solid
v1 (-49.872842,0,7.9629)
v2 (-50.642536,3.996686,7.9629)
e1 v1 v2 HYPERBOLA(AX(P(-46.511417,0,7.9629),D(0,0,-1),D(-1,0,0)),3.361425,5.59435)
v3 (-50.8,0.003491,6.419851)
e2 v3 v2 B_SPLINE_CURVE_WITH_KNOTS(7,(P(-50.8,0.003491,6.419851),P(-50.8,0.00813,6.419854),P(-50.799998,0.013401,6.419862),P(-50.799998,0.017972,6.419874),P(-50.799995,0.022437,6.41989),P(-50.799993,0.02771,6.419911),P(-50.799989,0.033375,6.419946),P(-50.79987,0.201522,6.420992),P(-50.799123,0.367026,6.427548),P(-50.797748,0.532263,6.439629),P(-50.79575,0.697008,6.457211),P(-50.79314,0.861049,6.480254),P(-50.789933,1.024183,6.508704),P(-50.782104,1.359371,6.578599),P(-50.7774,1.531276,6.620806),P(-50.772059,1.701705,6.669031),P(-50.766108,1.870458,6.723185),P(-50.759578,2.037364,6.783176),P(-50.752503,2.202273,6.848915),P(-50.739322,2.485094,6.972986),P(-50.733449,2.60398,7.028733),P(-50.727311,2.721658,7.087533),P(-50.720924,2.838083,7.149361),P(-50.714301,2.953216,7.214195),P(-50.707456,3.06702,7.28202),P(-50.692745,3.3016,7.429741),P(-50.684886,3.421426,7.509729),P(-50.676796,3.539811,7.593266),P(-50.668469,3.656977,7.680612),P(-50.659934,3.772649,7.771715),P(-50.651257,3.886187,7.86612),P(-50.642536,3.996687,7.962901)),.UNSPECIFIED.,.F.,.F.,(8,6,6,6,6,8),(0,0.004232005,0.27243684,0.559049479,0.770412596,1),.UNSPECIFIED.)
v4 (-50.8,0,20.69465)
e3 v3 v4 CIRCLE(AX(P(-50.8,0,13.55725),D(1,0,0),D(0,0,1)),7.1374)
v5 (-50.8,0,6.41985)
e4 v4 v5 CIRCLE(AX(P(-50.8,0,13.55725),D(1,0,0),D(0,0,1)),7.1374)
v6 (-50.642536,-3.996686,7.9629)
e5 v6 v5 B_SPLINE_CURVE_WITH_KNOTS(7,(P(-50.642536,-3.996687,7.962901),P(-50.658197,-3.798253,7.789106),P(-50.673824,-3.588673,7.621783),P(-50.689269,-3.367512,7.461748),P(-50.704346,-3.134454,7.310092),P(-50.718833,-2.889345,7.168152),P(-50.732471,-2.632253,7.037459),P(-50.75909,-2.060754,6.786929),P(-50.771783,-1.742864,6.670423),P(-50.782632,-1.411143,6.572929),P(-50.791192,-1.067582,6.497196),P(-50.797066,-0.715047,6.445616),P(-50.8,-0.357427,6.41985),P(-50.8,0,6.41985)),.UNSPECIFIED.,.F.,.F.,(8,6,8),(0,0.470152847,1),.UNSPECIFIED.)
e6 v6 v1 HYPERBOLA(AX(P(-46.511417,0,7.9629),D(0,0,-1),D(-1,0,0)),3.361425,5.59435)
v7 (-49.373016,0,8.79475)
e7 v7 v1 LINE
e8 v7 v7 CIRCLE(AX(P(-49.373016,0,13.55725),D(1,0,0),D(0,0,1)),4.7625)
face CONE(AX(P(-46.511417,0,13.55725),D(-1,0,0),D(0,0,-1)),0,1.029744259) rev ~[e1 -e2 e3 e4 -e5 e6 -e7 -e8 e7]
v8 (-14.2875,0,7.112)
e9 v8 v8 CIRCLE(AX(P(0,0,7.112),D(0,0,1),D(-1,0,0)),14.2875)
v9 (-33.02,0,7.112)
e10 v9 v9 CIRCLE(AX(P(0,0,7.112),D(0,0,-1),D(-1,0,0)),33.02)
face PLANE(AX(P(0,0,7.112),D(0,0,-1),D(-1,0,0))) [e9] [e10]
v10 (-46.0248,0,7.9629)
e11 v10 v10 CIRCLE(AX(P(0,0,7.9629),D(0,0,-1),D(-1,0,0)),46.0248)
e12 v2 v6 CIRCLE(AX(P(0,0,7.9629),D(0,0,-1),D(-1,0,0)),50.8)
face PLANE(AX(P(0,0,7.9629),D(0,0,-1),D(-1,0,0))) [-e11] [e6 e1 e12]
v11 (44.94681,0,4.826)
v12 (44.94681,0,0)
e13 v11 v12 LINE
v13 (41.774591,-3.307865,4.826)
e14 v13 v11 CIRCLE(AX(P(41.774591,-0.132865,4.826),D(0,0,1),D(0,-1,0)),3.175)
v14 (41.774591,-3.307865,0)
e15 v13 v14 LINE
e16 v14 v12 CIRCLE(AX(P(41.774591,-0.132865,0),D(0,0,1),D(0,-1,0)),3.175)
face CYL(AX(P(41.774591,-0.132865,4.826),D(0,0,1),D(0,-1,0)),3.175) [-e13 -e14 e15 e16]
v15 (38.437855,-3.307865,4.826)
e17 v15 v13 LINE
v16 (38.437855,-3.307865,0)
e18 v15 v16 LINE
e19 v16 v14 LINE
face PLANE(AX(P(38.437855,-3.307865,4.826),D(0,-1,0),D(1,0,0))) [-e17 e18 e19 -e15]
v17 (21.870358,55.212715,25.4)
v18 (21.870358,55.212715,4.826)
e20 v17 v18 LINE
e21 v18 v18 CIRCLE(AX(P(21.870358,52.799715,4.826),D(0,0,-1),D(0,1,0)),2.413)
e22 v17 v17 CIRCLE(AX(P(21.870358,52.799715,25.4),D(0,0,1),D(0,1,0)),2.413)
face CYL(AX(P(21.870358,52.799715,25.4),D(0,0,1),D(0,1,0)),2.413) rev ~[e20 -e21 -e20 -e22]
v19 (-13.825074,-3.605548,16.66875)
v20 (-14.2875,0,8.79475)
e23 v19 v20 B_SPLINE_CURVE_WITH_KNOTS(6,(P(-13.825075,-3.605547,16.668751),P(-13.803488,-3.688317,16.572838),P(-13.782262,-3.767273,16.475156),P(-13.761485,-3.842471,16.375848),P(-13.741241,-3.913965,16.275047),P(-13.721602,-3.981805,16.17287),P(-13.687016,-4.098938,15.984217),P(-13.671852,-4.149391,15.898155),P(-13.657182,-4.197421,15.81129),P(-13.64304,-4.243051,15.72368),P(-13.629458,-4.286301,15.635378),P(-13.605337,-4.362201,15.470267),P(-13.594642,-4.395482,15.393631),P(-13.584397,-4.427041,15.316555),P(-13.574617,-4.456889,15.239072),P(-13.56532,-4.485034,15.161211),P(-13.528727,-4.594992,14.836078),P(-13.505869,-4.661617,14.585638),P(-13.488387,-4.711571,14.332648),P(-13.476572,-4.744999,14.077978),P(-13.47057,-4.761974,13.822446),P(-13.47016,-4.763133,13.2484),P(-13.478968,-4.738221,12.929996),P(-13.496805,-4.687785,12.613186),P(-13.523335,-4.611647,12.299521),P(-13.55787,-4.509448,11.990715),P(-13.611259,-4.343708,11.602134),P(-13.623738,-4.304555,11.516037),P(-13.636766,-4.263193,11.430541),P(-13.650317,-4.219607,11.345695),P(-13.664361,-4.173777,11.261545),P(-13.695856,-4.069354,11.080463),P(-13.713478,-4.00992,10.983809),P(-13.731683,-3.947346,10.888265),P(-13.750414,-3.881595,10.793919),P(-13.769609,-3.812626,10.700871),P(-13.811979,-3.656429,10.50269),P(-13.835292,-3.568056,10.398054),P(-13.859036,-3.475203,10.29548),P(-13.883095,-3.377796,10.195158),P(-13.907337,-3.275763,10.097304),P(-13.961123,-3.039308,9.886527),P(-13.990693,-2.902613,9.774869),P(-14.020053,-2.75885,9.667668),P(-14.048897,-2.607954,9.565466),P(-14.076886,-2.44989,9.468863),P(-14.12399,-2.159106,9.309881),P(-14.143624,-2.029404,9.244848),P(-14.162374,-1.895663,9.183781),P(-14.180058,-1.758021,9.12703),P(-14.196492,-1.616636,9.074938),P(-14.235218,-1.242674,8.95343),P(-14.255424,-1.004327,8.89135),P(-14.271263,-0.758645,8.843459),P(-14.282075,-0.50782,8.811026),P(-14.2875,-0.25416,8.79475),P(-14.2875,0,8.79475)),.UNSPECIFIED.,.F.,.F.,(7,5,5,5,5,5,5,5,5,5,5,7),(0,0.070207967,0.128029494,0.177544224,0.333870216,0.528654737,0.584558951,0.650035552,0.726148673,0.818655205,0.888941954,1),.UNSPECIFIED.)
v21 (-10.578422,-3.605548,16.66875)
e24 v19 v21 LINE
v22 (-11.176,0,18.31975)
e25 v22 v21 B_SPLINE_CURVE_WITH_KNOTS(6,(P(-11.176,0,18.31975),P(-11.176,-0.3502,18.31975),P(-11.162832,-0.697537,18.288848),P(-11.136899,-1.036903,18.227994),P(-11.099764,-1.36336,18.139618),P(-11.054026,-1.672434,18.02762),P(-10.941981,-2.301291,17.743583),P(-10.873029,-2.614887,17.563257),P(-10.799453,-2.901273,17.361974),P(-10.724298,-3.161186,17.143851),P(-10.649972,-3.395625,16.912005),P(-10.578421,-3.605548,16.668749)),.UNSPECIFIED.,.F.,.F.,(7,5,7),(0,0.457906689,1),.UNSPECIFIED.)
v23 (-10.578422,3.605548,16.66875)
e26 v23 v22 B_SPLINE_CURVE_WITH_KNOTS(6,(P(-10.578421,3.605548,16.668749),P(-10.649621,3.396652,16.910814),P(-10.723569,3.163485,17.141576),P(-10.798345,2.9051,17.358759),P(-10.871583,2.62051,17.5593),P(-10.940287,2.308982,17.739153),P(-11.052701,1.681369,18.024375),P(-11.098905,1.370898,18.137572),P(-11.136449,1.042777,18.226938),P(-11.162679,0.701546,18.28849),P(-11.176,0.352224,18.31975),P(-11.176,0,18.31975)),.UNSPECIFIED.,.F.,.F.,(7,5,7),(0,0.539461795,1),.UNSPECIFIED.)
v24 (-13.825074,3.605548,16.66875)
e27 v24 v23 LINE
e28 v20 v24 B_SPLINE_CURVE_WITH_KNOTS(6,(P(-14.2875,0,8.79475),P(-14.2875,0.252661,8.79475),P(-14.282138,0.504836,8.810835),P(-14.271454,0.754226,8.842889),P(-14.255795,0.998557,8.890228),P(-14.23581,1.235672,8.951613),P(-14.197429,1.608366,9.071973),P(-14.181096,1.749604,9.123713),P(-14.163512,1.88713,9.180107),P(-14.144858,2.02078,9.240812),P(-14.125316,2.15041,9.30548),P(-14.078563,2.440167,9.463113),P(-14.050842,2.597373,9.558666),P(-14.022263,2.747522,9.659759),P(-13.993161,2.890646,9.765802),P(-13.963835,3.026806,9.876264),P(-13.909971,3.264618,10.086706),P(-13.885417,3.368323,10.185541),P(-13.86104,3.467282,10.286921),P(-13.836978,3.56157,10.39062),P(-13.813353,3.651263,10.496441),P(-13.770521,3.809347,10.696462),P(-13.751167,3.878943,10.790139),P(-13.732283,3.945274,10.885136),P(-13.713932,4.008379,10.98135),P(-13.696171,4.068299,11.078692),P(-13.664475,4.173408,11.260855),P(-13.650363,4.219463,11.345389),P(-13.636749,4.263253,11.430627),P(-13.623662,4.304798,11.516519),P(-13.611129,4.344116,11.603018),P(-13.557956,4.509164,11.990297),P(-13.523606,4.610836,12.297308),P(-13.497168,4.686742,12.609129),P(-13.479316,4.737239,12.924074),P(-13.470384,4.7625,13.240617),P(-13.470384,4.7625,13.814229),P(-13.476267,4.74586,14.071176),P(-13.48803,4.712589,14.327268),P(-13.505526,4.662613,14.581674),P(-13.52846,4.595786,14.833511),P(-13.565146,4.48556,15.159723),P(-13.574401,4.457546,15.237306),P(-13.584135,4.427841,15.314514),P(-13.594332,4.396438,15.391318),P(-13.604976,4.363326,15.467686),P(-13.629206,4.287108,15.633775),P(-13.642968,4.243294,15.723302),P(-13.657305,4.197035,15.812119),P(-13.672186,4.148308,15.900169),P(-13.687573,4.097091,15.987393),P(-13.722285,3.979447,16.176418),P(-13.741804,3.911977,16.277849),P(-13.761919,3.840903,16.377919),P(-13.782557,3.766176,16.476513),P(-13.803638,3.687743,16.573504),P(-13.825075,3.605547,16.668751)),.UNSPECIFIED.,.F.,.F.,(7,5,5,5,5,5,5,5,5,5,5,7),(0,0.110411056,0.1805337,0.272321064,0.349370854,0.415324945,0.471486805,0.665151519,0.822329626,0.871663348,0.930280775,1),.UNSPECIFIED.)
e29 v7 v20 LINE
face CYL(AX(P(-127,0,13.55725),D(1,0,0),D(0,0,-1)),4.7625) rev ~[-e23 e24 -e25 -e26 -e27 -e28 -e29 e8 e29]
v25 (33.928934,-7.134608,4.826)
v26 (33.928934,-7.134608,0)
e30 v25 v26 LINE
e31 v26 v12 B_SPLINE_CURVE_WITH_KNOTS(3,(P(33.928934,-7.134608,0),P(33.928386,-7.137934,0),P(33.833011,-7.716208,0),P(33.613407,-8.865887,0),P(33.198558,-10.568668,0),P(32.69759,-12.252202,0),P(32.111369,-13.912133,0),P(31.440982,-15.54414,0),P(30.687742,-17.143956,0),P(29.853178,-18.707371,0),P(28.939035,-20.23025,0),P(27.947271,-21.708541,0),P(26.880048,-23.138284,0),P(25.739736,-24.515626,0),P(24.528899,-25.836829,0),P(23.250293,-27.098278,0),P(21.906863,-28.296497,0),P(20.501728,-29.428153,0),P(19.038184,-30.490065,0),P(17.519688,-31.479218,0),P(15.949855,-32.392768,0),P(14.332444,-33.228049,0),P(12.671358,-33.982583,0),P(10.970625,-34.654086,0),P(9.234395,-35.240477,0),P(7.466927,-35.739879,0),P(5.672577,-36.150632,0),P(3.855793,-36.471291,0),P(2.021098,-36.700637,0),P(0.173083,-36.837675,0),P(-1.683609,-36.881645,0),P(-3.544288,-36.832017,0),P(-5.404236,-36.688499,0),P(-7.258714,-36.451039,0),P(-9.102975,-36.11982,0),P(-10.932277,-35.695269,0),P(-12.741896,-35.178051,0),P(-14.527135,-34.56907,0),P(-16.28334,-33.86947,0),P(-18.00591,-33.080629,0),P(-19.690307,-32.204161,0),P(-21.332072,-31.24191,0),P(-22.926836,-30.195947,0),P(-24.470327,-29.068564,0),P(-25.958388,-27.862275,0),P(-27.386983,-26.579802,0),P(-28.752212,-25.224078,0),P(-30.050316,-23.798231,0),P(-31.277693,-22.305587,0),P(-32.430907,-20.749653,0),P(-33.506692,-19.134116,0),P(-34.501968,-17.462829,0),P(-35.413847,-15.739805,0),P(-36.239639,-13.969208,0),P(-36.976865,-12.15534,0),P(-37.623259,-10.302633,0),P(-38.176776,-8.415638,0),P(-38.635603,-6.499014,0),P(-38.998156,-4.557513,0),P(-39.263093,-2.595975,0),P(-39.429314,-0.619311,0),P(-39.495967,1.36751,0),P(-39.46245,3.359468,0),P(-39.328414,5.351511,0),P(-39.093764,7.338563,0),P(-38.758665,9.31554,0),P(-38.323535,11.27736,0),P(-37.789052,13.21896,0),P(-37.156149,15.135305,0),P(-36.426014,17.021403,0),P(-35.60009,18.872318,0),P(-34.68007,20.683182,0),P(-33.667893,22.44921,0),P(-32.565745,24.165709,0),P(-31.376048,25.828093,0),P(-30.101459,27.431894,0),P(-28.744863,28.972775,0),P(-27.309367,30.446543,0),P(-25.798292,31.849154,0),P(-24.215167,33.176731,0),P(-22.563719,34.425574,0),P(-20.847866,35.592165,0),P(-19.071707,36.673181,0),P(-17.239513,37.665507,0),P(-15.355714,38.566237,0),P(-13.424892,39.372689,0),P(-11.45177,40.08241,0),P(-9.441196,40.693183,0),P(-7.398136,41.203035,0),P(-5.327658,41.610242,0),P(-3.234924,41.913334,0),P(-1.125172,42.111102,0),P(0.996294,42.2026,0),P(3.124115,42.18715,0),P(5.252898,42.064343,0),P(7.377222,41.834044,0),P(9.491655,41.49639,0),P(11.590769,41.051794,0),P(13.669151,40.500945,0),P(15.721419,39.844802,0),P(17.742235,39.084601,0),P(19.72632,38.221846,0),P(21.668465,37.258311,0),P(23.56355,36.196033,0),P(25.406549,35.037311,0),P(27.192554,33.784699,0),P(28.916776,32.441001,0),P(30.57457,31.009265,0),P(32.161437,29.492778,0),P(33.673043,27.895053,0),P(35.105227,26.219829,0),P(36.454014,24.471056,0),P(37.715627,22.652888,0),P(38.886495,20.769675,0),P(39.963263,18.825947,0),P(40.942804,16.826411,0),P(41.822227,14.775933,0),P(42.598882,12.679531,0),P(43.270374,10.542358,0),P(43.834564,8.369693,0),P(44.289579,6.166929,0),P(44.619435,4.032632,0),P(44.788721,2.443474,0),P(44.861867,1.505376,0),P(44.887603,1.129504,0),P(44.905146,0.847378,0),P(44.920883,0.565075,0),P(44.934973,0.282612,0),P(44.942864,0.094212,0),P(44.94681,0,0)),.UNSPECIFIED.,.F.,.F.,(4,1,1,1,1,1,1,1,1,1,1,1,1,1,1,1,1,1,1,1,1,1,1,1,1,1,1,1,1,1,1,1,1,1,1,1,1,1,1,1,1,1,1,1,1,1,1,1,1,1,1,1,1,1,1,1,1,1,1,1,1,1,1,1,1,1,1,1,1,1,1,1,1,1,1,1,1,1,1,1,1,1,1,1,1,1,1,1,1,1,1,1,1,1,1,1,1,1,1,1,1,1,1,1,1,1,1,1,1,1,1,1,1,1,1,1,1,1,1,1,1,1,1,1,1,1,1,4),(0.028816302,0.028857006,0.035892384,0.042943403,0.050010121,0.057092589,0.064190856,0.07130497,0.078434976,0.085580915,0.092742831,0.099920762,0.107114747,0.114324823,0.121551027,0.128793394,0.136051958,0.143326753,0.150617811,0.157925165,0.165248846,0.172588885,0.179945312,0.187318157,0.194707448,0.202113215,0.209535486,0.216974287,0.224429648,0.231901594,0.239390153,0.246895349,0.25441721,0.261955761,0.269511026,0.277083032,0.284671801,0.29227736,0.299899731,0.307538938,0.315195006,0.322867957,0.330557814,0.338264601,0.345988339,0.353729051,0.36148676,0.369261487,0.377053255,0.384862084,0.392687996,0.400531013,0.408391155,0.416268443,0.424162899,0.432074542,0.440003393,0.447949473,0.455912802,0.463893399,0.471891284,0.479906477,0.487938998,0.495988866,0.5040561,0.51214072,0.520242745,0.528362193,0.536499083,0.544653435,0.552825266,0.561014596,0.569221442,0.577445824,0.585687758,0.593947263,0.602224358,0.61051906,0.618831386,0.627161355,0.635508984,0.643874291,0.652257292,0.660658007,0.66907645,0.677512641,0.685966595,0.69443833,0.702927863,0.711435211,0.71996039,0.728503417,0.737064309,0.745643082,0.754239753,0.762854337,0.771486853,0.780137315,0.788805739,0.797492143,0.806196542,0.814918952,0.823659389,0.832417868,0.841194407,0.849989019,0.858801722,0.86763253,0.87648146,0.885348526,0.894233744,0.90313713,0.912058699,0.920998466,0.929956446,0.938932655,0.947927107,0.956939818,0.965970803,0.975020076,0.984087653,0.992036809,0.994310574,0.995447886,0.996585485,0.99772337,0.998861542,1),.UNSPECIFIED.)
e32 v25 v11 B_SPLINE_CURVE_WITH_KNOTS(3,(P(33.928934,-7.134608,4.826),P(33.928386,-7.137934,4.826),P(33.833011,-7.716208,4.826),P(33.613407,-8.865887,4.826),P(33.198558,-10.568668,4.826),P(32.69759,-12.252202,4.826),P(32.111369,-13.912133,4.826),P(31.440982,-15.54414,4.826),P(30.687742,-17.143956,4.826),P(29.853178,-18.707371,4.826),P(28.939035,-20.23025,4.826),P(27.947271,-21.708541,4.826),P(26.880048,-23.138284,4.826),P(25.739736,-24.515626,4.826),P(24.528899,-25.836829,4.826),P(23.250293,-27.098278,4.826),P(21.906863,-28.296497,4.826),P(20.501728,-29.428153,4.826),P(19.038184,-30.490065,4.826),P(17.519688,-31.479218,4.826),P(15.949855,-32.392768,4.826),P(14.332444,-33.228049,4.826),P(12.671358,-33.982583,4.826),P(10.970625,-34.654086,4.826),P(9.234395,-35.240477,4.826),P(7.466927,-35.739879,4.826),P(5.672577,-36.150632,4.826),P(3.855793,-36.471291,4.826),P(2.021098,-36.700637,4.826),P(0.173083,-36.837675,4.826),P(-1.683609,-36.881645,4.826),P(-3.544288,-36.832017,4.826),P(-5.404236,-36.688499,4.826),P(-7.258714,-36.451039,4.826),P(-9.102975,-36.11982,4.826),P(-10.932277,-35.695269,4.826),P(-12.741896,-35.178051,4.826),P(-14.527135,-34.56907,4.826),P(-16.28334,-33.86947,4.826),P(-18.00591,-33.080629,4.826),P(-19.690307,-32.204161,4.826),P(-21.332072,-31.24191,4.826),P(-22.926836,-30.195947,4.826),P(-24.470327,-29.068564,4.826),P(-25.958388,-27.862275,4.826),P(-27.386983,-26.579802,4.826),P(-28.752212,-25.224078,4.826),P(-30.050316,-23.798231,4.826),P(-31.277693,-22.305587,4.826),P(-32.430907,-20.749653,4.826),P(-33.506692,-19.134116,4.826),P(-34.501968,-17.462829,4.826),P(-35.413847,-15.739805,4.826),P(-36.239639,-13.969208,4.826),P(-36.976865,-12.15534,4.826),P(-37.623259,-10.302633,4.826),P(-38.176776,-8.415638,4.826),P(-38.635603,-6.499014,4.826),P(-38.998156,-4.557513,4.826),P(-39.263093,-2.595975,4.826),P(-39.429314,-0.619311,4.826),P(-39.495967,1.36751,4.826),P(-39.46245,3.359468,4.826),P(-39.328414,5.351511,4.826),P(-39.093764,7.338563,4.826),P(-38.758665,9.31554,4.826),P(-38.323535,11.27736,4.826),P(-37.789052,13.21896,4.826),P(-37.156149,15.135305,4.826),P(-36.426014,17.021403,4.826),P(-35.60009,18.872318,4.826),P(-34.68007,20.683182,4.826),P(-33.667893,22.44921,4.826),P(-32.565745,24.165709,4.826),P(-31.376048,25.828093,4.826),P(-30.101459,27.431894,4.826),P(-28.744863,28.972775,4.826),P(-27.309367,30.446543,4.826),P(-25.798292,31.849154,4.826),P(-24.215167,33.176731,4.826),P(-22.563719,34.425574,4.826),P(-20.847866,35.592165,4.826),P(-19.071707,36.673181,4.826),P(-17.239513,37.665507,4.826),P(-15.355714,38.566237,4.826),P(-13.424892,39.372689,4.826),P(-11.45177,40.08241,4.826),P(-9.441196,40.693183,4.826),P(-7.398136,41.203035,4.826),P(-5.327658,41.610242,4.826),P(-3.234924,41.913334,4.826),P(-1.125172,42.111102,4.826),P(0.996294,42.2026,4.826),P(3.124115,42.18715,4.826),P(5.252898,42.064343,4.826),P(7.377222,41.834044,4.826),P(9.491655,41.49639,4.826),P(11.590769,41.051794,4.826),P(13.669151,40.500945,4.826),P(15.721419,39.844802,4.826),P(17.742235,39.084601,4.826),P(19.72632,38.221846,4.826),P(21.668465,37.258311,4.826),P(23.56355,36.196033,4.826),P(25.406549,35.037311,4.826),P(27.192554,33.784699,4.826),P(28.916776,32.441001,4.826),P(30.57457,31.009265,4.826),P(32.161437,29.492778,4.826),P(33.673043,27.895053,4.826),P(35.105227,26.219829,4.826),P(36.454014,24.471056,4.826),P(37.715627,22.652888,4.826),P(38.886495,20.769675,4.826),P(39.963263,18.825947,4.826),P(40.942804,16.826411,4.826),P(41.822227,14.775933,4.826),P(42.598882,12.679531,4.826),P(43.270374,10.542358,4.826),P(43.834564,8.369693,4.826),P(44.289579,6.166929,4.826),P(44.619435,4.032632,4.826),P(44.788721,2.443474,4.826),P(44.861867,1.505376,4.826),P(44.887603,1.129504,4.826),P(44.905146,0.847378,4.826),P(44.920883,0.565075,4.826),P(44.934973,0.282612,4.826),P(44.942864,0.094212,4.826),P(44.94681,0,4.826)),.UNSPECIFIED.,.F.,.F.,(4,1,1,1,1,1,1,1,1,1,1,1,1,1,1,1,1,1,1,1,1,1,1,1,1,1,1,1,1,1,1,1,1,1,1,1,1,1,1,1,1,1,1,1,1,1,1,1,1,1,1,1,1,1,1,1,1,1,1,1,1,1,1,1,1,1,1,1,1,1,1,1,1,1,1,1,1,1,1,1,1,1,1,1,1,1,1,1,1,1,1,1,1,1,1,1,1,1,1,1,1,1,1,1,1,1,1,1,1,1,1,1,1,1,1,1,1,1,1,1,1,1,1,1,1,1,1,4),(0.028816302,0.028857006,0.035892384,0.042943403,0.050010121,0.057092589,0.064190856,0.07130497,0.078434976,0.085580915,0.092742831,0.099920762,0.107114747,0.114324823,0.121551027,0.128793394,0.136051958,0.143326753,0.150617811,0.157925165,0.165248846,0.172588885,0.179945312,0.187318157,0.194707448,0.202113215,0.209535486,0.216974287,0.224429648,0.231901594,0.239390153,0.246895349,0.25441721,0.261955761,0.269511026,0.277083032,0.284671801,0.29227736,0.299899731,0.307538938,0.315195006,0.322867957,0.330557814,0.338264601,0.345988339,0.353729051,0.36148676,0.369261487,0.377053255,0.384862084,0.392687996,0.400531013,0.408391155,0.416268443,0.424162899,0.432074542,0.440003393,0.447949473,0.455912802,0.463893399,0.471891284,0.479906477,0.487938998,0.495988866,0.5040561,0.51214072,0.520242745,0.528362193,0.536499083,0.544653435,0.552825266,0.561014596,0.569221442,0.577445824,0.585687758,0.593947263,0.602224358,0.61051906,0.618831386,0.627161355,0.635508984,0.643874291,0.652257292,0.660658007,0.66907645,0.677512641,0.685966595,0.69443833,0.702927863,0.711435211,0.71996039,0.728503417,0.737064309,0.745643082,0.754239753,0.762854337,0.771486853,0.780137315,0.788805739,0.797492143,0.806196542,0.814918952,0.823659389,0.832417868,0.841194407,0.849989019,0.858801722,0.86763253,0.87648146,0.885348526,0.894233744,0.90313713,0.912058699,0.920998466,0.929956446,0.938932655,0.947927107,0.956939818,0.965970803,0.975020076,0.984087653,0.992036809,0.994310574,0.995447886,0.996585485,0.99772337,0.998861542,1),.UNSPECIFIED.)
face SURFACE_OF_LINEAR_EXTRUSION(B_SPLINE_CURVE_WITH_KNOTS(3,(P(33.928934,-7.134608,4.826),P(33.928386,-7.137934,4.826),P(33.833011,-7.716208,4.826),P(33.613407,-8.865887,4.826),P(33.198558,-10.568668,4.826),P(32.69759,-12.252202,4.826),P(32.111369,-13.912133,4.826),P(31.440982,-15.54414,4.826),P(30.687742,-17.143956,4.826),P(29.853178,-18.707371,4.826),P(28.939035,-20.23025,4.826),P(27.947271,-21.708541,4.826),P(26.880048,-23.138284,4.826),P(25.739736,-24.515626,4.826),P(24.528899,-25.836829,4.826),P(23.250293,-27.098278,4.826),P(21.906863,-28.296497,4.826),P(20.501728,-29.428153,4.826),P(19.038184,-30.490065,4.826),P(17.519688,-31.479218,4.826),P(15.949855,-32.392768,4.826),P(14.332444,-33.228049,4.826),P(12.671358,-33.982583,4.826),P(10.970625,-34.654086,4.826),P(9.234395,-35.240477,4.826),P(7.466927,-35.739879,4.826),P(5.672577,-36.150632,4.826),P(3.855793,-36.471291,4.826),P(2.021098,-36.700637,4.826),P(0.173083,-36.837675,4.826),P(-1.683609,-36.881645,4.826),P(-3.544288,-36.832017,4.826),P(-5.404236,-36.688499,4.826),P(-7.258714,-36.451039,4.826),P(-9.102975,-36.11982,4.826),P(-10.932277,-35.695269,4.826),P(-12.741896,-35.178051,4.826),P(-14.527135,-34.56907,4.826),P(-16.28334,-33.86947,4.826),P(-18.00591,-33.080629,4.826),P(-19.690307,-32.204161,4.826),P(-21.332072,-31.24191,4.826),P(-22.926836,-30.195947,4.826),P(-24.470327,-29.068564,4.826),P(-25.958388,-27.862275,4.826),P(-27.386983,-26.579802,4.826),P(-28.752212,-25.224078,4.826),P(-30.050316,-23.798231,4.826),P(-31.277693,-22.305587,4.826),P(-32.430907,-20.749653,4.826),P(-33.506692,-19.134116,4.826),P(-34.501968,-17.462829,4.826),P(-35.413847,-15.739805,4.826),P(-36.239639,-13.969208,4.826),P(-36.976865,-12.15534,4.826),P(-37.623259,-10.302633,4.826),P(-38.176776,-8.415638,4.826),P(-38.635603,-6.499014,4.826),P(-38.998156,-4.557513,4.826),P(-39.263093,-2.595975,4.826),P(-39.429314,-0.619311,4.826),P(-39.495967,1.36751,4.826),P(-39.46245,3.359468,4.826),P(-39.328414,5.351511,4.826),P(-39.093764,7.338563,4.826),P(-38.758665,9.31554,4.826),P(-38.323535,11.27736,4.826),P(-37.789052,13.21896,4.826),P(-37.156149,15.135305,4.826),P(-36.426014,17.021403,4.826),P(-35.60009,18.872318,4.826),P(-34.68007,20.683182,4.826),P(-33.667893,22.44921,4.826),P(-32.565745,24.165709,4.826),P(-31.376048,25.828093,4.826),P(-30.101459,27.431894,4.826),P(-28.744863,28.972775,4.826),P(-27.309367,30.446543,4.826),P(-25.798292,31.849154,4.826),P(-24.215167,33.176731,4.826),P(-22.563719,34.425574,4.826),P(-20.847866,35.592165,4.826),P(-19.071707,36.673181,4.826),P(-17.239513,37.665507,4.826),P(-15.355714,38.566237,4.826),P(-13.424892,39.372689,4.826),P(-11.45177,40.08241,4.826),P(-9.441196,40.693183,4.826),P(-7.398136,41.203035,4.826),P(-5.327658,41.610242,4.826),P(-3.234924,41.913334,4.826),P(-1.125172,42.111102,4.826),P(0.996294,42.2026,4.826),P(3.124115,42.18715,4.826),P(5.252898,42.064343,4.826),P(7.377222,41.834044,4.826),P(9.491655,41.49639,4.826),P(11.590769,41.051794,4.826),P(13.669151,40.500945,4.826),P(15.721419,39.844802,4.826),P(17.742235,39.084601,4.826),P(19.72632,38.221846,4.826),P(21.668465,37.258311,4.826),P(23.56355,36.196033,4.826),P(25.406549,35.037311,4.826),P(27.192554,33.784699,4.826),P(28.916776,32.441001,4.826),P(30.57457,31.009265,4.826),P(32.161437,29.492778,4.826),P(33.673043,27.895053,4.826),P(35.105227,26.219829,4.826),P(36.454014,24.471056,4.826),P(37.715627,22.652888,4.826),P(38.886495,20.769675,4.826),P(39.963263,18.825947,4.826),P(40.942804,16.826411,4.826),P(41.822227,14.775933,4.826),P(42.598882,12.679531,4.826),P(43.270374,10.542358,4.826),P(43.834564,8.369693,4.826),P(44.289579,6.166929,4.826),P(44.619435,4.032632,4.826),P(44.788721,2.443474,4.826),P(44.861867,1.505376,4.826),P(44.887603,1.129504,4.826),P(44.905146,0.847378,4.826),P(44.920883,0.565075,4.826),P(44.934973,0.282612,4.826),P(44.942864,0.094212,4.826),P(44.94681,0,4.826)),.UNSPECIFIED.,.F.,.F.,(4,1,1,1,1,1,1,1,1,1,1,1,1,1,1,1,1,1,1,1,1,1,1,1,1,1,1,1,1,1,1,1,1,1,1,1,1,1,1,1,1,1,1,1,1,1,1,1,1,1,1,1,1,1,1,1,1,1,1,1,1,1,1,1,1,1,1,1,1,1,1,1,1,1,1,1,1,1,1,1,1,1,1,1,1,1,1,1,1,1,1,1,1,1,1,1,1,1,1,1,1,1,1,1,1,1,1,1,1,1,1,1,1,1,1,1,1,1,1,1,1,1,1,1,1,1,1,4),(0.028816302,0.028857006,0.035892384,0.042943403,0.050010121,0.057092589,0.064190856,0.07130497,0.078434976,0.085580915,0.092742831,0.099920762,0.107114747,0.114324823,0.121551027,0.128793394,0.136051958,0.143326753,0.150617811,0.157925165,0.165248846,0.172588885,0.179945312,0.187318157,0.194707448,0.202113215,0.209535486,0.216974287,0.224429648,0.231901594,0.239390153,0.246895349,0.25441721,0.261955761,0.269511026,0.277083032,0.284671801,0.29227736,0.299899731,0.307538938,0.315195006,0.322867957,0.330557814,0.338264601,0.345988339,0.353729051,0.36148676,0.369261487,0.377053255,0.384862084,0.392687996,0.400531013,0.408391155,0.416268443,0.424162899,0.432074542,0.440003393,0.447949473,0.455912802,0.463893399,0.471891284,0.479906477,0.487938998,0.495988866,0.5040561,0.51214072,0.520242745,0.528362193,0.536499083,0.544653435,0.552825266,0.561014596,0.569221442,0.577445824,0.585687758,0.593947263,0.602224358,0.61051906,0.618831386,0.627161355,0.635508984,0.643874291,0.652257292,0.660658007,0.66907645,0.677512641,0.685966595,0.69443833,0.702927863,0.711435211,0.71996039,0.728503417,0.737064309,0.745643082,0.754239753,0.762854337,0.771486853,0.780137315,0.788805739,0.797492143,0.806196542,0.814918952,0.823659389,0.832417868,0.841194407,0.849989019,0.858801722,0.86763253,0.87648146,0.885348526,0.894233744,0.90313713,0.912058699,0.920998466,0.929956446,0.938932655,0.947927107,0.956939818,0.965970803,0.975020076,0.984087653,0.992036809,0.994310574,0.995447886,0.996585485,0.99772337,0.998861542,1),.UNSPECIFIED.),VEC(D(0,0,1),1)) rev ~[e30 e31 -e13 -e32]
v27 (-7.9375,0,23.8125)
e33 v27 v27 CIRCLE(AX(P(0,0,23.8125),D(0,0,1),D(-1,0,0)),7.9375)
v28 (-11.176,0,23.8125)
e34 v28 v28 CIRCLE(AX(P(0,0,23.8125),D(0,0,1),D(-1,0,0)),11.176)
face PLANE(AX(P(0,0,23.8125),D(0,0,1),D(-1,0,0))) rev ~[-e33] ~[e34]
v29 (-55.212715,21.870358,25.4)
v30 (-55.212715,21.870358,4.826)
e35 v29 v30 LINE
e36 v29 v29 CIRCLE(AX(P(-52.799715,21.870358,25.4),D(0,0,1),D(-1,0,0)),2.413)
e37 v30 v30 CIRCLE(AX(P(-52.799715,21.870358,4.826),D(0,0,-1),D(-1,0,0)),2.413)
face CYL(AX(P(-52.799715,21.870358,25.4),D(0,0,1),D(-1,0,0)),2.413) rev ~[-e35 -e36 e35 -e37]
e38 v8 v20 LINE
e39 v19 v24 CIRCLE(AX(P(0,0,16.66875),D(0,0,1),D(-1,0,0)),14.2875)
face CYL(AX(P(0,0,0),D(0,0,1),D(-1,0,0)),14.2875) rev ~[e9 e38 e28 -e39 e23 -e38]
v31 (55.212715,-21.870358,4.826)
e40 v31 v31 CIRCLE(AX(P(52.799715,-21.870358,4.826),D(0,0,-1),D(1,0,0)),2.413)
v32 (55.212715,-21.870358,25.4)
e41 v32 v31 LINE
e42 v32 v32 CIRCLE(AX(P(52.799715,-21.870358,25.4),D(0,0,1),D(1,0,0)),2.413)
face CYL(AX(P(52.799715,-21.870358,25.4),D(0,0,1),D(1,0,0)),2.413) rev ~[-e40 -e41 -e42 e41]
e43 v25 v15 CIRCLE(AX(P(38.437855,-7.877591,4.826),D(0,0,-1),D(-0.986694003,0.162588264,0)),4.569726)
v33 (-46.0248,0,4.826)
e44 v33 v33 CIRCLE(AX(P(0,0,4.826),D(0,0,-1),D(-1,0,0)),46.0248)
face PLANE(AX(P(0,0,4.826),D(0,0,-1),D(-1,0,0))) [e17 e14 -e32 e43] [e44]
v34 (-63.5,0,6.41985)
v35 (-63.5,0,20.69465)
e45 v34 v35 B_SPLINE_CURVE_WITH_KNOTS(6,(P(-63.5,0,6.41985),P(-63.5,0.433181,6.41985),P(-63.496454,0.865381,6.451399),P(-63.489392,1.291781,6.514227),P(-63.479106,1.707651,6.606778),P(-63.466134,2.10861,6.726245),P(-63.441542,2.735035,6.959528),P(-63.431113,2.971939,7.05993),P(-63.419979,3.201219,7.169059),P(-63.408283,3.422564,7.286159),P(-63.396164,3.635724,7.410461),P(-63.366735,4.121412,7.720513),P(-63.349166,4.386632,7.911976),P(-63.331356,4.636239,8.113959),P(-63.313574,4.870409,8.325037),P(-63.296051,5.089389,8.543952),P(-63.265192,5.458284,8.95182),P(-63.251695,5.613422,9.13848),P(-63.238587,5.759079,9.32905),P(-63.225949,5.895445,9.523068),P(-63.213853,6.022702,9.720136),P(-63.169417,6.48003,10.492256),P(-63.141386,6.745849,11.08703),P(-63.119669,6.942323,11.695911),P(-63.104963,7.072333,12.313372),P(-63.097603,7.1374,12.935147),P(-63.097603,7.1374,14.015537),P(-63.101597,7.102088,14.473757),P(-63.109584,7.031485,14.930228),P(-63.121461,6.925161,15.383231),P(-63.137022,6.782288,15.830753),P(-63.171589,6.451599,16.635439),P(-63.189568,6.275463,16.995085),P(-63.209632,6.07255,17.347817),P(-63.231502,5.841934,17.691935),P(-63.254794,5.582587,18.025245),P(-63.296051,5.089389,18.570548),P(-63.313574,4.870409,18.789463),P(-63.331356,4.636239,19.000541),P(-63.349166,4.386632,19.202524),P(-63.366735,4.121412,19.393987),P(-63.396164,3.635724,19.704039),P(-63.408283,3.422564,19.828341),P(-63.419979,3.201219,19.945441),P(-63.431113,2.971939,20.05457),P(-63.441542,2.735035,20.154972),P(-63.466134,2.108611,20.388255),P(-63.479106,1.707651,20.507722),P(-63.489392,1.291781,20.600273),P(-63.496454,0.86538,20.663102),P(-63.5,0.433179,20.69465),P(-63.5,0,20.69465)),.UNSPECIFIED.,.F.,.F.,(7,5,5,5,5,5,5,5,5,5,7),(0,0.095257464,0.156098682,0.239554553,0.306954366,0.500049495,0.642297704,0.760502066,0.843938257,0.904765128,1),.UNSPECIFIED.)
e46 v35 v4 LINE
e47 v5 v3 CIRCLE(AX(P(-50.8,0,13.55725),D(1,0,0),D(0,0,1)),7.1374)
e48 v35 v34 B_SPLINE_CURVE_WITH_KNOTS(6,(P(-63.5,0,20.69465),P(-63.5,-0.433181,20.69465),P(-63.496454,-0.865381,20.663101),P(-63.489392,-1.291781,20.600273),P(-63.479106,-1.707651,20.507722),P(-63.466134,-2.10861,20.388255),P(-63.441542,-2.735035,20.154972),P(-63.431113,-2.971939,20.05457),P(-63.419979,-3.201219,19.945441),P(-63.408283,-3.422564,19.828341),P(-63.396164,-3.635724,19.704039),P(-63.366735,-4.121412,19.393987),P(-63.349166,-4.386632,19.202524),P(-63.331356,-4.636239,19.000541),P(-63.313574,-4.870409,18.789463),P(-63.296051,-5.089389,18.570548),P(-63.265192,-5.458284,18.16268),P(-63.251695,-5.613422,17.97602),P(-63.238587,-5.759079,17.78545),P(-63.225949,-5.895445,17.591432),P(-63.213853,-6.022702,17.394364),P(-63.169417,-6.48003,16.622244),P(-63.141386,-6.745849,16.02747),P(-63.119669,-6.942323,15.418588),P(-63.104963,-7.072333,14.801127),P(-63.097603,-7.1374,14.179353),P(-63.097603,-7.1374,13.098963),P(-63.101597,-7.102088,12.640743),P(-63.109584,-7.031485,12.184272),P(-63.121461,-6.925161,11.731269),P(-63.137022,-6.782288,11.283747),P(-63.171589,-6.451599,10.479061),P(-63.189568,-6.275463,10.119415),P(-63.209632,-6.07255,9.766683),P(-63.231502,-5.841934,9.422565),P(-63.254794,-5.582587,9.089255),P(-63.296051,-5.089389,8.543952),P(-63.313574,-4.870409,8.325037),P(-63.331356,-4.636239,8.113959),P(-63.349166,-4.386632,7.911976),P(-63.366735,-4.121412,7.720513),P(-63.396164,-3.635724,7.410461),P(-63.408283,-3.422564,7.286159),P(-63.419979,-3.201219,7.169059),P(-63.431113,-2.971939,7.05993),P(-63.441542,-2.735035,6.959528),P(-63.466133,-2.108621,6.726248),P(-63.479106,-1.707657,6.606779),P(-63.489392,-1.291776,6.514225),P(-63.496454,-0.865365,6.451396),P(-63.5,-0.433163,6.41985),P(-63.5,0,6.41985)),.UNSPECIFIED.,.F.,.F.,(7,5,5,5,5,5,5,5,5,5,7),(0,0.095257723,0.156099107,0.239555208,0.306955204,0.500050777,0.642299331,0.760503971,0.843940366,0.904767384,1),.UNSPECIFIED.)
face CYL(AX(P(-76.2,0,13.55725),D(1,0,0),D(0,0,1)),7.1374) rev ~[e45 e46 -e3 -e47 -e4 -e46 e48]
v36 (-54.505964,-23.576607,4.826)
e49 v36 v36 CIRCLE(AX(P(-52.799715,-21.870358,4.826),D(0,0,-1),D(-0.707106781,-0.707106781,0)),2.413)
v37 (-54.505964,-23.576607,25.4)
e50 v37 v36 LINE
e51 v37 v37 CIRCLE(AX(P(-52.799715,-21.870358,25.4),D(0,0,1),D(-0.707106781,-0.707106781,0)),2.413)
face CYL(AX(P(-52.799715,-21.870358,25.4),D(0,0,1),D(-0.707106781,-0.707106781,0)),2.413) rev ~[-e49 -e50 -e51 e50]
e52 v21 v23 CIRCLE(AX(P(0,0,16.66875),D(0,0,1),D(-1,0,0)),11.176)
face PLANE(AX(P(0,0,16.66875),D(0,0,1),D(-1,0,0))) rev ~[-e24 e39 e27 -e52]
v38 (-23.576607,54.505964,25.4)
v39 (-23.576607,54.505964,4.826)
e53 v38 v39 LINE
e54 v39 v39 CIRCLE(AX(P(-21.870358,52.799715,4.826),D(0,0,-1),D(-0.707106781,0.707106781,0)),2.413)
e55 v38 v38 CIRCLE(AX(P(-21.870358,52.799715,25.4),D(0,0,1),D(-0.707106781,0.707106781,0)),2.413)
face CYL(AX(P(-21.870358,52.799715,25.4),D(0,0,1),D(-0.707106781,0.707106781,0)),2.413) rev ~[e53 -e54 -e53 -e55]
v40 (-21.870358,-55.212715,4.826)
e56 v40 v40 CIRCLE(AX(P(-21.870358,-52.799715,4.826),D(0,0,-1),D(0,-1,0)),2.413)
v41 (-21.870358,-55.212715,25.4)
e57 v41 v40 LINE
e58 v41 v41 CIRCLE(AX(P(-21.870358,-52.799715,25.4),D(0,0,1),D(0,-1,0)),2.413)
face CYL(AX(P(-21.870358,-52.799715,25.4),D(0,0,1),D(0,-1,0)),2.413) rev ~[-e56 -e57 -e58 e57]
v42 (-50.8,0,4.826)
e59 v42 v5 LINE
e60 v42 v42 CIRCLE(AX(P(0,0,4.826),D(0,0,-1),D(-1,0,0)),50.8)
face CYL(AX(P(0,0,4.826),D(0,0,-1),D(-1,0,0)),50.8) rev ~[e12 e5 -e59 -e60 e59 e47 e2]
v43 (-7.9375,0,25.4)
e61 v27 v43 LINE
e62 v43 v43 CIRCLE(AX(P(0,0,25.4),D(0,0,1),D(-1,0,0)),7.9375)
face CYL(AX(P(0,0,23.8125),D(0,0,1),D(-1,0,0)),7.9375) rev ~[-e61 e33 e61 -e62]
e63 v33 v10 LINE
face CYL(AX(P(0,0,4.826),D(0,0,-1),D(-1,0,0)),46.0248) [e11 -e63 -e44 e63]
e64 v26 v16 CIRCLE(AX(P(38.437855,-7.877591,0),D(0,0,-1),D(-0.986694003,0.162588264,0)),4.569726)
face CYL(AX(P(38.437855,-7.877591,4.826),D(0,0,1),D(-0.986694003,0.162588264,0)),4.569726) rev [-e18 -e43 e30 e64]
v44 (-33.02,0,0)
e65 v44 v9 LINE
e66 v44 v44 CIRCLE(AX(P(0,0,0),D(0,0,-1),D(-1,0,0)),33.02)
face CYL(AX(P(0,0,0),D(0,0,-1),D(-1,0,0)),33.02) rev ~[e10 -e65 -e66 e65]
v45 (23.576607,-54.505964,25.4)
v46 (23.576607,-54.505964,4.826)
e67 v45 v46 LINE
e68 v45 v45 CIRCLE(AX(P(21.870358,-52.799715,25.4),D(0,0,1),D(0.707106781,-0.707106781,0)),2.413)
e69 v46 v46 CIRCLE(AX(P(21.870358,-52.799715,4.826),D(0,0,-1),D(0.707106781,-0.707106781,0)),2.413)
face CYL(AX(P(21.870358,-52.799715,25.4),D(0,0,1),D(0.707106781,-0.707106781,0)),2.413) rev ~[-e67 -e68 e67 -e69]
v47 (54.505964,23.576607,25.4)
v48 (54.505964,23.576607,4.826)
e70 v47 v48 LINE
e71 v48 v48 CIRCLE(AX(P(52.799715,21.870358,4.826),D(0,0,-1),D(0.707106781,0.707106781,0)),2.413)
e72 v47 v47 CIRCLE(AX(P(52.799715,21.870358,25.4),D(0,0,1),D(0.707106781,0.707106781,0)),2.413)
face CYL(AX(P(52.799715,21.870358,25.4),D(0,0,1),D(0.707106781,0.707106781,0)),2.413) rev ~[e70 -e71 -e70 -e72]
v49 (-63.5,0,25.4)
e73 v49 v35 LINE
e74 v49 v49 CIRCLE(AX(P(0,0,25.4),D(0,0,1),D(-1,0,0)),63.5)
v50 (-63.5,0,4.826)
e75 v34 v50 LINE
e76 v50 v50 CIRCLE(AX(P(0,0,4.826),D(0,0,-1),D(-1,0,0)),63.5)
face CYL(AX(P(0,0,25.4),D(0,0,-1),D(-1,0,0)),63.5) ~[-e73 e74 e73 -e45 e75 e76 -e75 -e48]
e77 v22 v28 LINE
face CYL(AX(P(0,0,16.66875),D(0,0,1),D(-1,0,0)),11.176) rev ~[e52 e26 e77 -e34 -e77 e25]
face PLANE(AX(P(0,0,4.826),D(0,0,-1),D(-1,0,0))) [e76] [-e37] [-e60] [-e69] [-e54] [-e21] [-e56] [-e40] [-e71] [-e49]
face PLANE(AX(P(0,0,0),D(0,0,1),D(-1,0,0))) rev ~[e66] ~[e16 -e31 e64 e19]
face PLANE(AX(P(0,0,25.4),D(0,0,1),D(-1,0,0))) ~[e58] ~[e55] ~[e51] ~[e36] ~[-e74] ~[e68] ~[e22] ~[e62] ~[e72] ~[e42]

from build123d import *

# Parameters (mm, degrees)
SKETCH4_R                         = 2.413
CUT_EXTRUDE1_DEPTH                = 94.3255592
CIRPATTERN1_COUNT                 = 8
CUT_EXTRUDE7_START                = -4.826
SKETCH18_R                        = 63.5
SKETCH18_R_2                      = 2.413
CUT_EXTRUDE7_DEPTH                = 4.826
SKETCH17_R                        = 33.02
CUT_EXTRUDE6_DEPTH                = 7.112
PIPE_TAP_DRILL_FOR_3_8_TAP1_D     = 14.2748
PIPE_TAP_DRILL_FOR_3_8_TAP1_DEPTH = 12.7
PIPE_TAP_DRILL_FOR_3_8_TAP1_TIP   = 4.288582582
F_3_8_0_375_DIAMETER_HOLE1_D      = 9.525
F_3_8_0_375_DIAMETER_HOLE1_DEPTH  = 63.5
F_3_8_0_375_DIAMETER_HOLE1_TIP    = 2.861598698
SKETCH19_R                        = 50.8
SKETCH19_R_2                      = 46.0248
SEAL_GROOVE_DEPTH                 = 3.1369


with BuildPart() as part:
    # Sketch16 → Revolve1 (revolve)
    with BuildSketch(Plane(origin=(0, 0, 0), x_dir=(1, 0, 0), z_dir=(0, 1, 0)), mode=Mode.PRIVATE) as revolve1_sk:
        Polygon((7.9375, -25.4), (63.5, -25.4), (63.5, 0), (14.2875, 0), (14.2875, -16.66875), (11.176, -16.66875), (11.176, -23.8125), (7.9375, -23.8125), align=None)
    revolve(revolve1_sk.sketch.rotate(Axis((0, 0, 0), (0, 0, 1)), 180), axis=Axis((0, 0, 0), (0, 0, 1)))

    # Sketch4 → Cut-Extrude1 (cut, through all)
    with BuildSketch(Plane.XY.offset(25.4)):
        with Locations((52.799715283, -21.87035816)):
            Circle(SKETCH4_R)
    cut_extrude1 = extrude(amount=-CUT_EXTRUDE1_DEPTH, mode=Mode.SUBTRACT)

    # CirPattern1: Cut-Extrude1 ×8 about axis
    cirpattern1_axis = Axis((0, 0, 0), (0, 0, 1))
    for i in range(1, CIRPATTERN1_COUNT):
        add(cut_extrude1.rotate(cirpattern1_axis, i * 360 / CIRPATTERN1_COUNT), mode=Mode.SUBTRACT)

    # Sketch18 → Cut-Extrude7 (cut)
    with BuildSketch(Plane(origin=(0, 0, 0), x_dir=(-1, 0, 0), z_dir=(0, 0, -1)).offset(CUT_EXTRUDE7_START)):
        Circle(SKETCH18_R)
        with Locations(Location((-21.87035816, -52.799715283, 0), (0, 0, 225))):
            Circle(SKETCH18_R_2, mode=Mode.SUBTRACT)
        with Locations(Location((-52.799715283, -21.87035816, 0), (0, 0, 180))):
            Circle(SKETCH18_R_2, mode=Mode.SUBTRACT)
        with Locations(Location((21.87035816, -52.799715283, 0), (0, 0, 270))):
            Circle(SKETCH18_R_2, mode=Mode.SUBTRACT)
        with Locations(Location((52.799715283, -21.87035816, 0), (0, 0, 315))):
            Circle(SKETCH18_R_2, mode=Mode.SUBTRACT)
        with Locations((-52.799715283, 21.87035816)):
            Circle(SKETCH18_R_2, mode=Mode.SUBTRACT)
        with BuildLine():
            Line((-38.437855153, -3.307865299), (-41.774591166, -3.307865299))
            ThreePointArc((-41.774591166, -3.307865299), (-44.06614875, -2.330452348), (-44.946809919, 0))
            add(Edge.make_bspline(
                [(-33.928933872, -7.134607515), (-33.928385732, -7.137933992), (-33.833010931, -7.716207568), (-33.613407498, -8.8658869), (-33.198558281, -10.568668335), (-32.697590483, -12.252202478), (-32.111368753, -13.912132646), (-31.440982434, -15.544140087), (-30.6877424, -17.143955629), (-29.853178348, -18.707371069), (-28.939035433, -20.230250424), (-27.947270591, -21.708540989), (-26.880048317, -23.138284208), (-25.739735978, -24.515626324), (-24.52889861, -25.836828804), (-23.250293206, -27.098278486), (-21.906862513, -28.296497465), (-20.501728328, -29.428152646), (-19.038184319, -30.490064988), (-17.519688378, -31.479218369), (-15.949854523, -32.392768086), (-14.332444364, -33.228048947), (-12.67135816, -33.982582934), (-10.970625473, -34.654086422), (-9.23439546, -35.240476937), (-7.466926803, -35.739879413), (-5.672577322, -36.150631964), (-3.855793286, -36.471291116), (-2.021098439, -36.700636517), (-0.173082793, -36.837675086), (1.683608814, -36.881644605), (3.544288344, -36.832016725), (5.404236353, -36.688499397), (7.258713917, -36.451038699), (9.102974666, -36.119820063), (10.932276886, -35.695268896), (12.741895669, -35.178050585), (14.527135072, -34.569069886), (16.283340262, -33.869469699), (18.005909603, -33.080629222), (19.690306669, -32.204161496), (21.332072136, -31.241910334), (22.926835541, -30.195946649), (24.470326852, -29.068564177), (25.958387849, -27.862274615), (27.386983251, -26.579802172), (28.752211598, -25.224077558), (30.05031582, -23.798231409), (31.277693495, -22.305587173), (32.430906752, -20.749653473), (33.506691795, -19.134115953), (34.501968029, -17.462828639), (35.41384675, -15.739804832), (36.239639383, -13.969207544), (36.976865247, -12.155339516), (37.623258819, -10.302632827), (38.176776478, -8.415638129), (38.635602708, -6.499013531), (38.99815575, -4.557513153), (39.263092672, -2.595975388), (39.429313851, -0.619310898), (39.495966855, 1.367509636), (39.462449705, 3.359467962), (39.328413504, 5.351510889), (39.09376444, 7.338563062), (38.758665131, 9.315539846), (38.323535331, 11.277360294), (37.789051968, 13.218960162), (37.15614853, 15.135304935), (36.426013787, 17.021402835), (35.600089858, 18.872317778), (34.680069611, 20.683182241), (33.667893419, 22.449210007), (32.565745258, 24.165708766), (31.376048171, 25.828092515), (30.101459097, 27.431893755), (28.744863072, 28.972775422), (27.309366835, 30.446542545), (25.798291819, 31.849153584), (24.215166578, 33.176731426), (22.563718643, 34.425574005), (20.847865831, 35.59216452), (19.071707037, 36.673181218), (17.239512511, 37.665506723), (15.355713667, 38.566236878), (13.424892429, 39.37268908), (11.451770141, 40.082410076), (9.441196087, 40.693183217), (7.398135616, 41.203035118), (5.327657937, 41.610241741), (3.234923583, 41.913333848), (1.125171597, 42.11110184), (-0.996293545, 42.202599933), (-3.124115223, 42.187149688), (-5.252898166, 42.06434287), (-7.377222085, 41.834043617), (-9.491655438, 41.49638993), (-11.590769276, 41.051794458), (-13.669151145, 40.500944594), (-15.721418994, 39.844801852), (-17.742235078, 39.084600556), (-19.726319787, 38.221845804), (-21.668465399, 37.258310751), (-23.563549696, 36.196033176), (-25.406549423, 35.037311368), (-27.192553543, 33.784699317), (-28.916776264, 32.441001244), (-30.574569796, 31.009265451), (-32.161436808, 29.492777532), (-33.673042551, 27.895052942), (-35.10522661, 26.219828948), (-36.454014261, 24.471055979), (-37.715627401, 22.652888394), (-38.88649501, 20.769674689), (-39.963263134, 18.825947167), (-40.942804349, 16.826411093), (-41.822226678, 14.775933368), (-42.59888195, 12.679530733), (-43.27037356, 10.54235755), (-43.834563622, 8.369693173), (-44.289579482, 6.166928958), (-44.619434592, 4.032631678), (-44.788721316, 2.443473873), (-44.861866668, 1.505376084), (-44.887603288, 1.129504244), (-44.905146434, 0.847378207), (-44.920882878, 0.565074904), (-44.934972992, 0.282611952), (-44.942863945, 0.09421189), (-44.946809919, 0)],
                knots=[0.028816302, 0.028816302, 0.028816302, 0.028816302, 0.028857006, 0.035892384, 0.042943403, 0.050010121, 0.057092589, 0.064190856, 0.07130497, 0.078434976, 0.085580915, 0.092742831, 0.099920762, 0.107114747, 0.114324823, 0.121551027, 0.128793394, 0.136051958, 0.143326753, 0.150617811, 0.157925165, 0.165248846, 0.172588885, 0.179945312, 0.187318157, 0.194707448, 0.202113215, 0.209535486, 0.216974287, 0.224429648, 0.231901594, 0.239390153, 0.246895349, 0.25441721, 0.261955761, 0.269511026, 0.277083032, 0.284671801, 0.29227736, 0.299899731, 0.307538938, 0.315195006, 0.322867957, 0.330557814, 0.338264601, 0.345988339, 0.353729051, 0.36148676, 0.369261487, 0.377053255, 0.384862084, 0.392687996, 0.400531013, 0.408391155, 0.416268443, 0.424162899, 0.432074542, 0.440003393, 0.447949473, 0.455912802, 0.463893399, 0.471891284, 0.479906477, 0.487938998, 0.495988866, 0.5040561, 0.51214072, 0.520242745, 0.528362193, 0.536499083, 0.544653435, 0.552825266, 0.561014596, 0.569221442, 0.577445824, 0.585687758, 0.593947263, 0.602224358, 0.61051906, 0.618831386, 0.627161355, 0.635508984, 0.643874291, 0.652257292, 0.660658007, 0.66907645, 0.677512641, 0.685966595, 0.69443833, 0.702927863, 0.711435211, 0.71996039, 0.728503417, 0.737064309, 0.745643082, 0.754239753, 0.762854337, 0.771486853, 0.780137315, 0.788805739, 0.797492143, 0.806196542, 0.814918952, 0.823659389, 0.832417868, 0.841194407, 0.849989019, 0.858801722, 0.86763253, 0.87648146, 0.885348526, 0.894233744, 0.90313713, 0.912058699, 0.920998466, 0.929956446, 0.938932655, 0.947927107, 0.956939818, 0.965970803, 0.975020076, 0.984087653, 0.992036809, 0.994310574, 0.995447886, 0.996585485, 0.99772337, 0.998861542, 1, 1, 1, 1], degree=3))
            ThreePointArc((-33.928933872, -7.134607515), (-35.480900338, -4.393511216), (-38.437855153, -3.307865299))
        make_face(mode=Mode.SUBTRACT)
        with Locations((-21.87035816, 52.799715283)):
            Circle(SKETCH18_R_2, mode=Mode.SUBTRACT)
        with Locations((52.799715283, 21.87035816)):
            Circle(SKETCH18_R_2, mode=Mode.SUBTRACT)
        with Locations(Location((21.87035816, 52.799715283, 0), (0, 0, 45))):
            Circle(SKETCH18_R_2, mode=Mode.SUBTRACT)
    extrude(amount=CUT_EXTRUDE7_DEPTH, mode=Mode.SUBTRACT)

    # Sketch17 → Cut-Extrude6 (cut)
    with BuildSketch(Plane(origin=(0, 0, 0), x_dir=(-1, 0, 0), z_dir=(0, 0, -1))):
        Circle(SKETCH17_R)
    extrude(amount=-CUT_EXTRUDE6_DEPTH, mode=Mode.SUBTRACT)

    # Pipe Tap Drill for 3/8 Tap1
    with Locations(Plane(origin=(-63.5, 0, 13.55725), x_dir=(0, 0, -1), z_dir=(-1, 0, 0))):
        with Locations((0, 0)):
            Hole(PIPE_TAP_DRILL_FOR_3_8_TAP1_D / 2, depth=PIPE_TAP_DRILL_FOR_3_8_TAP1_DEPTH)
            with Locations((0, 0, -(PIPE_TAP_DRILL_FOR_3_8_TAP1_DEPTH + PIPE_TAP_DRILL_FOR_3_8_TAP1_TIP / 2))):  # 118° drill point
                Cone(0, PIPE_TAP_DRILL_FOR_3_8_TAP1_D / 2, PIPE_TAP_DRILL_FOR_3_8_TAP1_TIP, mode=Mode.SUBTRACT)

    # 3/8 (0.375) Diameter Hole1
    with Locations(Plane.ZY.offset(63.5)):
        with Locations((13.55725, 0)):
            Hole(F_3_8_0_375_DIAMETER_HOLE1_D / 2, depth=F_3_8_0_375_DIAMETER_HOLE1_DEPTH)
            with Locations((0, 0, -(F_3_8_0_375_DIAMETER_HOLE1_DEPTH + F_3_8_0_375_DIAMETER_HOLE1_TIP / 2))):  # 118° drill point
                Cone(0, F_3_8_0_375_DIAMETER_HOLE1_D / 2, F_3_8_0_375_DIAMETER_HOLE1_TIP, mode=Mode.SUBTRACT)

    # Sketch19 → Seal Groove (cut)
    with BuildSketch(Plane(origin=(0, 0, 4.826), x_dir=(-1, 0, 0), z_dir=(0, 0, -1))):
        Circle(SKETCH19_R)
        Circle(SKETCH19_R_2, mode=Mode.SUBTRACT)
    extrude(amount=-SEAL_GROOVE_DEPTH, mode=Mode.SUBTRACT)


solid = part.part
